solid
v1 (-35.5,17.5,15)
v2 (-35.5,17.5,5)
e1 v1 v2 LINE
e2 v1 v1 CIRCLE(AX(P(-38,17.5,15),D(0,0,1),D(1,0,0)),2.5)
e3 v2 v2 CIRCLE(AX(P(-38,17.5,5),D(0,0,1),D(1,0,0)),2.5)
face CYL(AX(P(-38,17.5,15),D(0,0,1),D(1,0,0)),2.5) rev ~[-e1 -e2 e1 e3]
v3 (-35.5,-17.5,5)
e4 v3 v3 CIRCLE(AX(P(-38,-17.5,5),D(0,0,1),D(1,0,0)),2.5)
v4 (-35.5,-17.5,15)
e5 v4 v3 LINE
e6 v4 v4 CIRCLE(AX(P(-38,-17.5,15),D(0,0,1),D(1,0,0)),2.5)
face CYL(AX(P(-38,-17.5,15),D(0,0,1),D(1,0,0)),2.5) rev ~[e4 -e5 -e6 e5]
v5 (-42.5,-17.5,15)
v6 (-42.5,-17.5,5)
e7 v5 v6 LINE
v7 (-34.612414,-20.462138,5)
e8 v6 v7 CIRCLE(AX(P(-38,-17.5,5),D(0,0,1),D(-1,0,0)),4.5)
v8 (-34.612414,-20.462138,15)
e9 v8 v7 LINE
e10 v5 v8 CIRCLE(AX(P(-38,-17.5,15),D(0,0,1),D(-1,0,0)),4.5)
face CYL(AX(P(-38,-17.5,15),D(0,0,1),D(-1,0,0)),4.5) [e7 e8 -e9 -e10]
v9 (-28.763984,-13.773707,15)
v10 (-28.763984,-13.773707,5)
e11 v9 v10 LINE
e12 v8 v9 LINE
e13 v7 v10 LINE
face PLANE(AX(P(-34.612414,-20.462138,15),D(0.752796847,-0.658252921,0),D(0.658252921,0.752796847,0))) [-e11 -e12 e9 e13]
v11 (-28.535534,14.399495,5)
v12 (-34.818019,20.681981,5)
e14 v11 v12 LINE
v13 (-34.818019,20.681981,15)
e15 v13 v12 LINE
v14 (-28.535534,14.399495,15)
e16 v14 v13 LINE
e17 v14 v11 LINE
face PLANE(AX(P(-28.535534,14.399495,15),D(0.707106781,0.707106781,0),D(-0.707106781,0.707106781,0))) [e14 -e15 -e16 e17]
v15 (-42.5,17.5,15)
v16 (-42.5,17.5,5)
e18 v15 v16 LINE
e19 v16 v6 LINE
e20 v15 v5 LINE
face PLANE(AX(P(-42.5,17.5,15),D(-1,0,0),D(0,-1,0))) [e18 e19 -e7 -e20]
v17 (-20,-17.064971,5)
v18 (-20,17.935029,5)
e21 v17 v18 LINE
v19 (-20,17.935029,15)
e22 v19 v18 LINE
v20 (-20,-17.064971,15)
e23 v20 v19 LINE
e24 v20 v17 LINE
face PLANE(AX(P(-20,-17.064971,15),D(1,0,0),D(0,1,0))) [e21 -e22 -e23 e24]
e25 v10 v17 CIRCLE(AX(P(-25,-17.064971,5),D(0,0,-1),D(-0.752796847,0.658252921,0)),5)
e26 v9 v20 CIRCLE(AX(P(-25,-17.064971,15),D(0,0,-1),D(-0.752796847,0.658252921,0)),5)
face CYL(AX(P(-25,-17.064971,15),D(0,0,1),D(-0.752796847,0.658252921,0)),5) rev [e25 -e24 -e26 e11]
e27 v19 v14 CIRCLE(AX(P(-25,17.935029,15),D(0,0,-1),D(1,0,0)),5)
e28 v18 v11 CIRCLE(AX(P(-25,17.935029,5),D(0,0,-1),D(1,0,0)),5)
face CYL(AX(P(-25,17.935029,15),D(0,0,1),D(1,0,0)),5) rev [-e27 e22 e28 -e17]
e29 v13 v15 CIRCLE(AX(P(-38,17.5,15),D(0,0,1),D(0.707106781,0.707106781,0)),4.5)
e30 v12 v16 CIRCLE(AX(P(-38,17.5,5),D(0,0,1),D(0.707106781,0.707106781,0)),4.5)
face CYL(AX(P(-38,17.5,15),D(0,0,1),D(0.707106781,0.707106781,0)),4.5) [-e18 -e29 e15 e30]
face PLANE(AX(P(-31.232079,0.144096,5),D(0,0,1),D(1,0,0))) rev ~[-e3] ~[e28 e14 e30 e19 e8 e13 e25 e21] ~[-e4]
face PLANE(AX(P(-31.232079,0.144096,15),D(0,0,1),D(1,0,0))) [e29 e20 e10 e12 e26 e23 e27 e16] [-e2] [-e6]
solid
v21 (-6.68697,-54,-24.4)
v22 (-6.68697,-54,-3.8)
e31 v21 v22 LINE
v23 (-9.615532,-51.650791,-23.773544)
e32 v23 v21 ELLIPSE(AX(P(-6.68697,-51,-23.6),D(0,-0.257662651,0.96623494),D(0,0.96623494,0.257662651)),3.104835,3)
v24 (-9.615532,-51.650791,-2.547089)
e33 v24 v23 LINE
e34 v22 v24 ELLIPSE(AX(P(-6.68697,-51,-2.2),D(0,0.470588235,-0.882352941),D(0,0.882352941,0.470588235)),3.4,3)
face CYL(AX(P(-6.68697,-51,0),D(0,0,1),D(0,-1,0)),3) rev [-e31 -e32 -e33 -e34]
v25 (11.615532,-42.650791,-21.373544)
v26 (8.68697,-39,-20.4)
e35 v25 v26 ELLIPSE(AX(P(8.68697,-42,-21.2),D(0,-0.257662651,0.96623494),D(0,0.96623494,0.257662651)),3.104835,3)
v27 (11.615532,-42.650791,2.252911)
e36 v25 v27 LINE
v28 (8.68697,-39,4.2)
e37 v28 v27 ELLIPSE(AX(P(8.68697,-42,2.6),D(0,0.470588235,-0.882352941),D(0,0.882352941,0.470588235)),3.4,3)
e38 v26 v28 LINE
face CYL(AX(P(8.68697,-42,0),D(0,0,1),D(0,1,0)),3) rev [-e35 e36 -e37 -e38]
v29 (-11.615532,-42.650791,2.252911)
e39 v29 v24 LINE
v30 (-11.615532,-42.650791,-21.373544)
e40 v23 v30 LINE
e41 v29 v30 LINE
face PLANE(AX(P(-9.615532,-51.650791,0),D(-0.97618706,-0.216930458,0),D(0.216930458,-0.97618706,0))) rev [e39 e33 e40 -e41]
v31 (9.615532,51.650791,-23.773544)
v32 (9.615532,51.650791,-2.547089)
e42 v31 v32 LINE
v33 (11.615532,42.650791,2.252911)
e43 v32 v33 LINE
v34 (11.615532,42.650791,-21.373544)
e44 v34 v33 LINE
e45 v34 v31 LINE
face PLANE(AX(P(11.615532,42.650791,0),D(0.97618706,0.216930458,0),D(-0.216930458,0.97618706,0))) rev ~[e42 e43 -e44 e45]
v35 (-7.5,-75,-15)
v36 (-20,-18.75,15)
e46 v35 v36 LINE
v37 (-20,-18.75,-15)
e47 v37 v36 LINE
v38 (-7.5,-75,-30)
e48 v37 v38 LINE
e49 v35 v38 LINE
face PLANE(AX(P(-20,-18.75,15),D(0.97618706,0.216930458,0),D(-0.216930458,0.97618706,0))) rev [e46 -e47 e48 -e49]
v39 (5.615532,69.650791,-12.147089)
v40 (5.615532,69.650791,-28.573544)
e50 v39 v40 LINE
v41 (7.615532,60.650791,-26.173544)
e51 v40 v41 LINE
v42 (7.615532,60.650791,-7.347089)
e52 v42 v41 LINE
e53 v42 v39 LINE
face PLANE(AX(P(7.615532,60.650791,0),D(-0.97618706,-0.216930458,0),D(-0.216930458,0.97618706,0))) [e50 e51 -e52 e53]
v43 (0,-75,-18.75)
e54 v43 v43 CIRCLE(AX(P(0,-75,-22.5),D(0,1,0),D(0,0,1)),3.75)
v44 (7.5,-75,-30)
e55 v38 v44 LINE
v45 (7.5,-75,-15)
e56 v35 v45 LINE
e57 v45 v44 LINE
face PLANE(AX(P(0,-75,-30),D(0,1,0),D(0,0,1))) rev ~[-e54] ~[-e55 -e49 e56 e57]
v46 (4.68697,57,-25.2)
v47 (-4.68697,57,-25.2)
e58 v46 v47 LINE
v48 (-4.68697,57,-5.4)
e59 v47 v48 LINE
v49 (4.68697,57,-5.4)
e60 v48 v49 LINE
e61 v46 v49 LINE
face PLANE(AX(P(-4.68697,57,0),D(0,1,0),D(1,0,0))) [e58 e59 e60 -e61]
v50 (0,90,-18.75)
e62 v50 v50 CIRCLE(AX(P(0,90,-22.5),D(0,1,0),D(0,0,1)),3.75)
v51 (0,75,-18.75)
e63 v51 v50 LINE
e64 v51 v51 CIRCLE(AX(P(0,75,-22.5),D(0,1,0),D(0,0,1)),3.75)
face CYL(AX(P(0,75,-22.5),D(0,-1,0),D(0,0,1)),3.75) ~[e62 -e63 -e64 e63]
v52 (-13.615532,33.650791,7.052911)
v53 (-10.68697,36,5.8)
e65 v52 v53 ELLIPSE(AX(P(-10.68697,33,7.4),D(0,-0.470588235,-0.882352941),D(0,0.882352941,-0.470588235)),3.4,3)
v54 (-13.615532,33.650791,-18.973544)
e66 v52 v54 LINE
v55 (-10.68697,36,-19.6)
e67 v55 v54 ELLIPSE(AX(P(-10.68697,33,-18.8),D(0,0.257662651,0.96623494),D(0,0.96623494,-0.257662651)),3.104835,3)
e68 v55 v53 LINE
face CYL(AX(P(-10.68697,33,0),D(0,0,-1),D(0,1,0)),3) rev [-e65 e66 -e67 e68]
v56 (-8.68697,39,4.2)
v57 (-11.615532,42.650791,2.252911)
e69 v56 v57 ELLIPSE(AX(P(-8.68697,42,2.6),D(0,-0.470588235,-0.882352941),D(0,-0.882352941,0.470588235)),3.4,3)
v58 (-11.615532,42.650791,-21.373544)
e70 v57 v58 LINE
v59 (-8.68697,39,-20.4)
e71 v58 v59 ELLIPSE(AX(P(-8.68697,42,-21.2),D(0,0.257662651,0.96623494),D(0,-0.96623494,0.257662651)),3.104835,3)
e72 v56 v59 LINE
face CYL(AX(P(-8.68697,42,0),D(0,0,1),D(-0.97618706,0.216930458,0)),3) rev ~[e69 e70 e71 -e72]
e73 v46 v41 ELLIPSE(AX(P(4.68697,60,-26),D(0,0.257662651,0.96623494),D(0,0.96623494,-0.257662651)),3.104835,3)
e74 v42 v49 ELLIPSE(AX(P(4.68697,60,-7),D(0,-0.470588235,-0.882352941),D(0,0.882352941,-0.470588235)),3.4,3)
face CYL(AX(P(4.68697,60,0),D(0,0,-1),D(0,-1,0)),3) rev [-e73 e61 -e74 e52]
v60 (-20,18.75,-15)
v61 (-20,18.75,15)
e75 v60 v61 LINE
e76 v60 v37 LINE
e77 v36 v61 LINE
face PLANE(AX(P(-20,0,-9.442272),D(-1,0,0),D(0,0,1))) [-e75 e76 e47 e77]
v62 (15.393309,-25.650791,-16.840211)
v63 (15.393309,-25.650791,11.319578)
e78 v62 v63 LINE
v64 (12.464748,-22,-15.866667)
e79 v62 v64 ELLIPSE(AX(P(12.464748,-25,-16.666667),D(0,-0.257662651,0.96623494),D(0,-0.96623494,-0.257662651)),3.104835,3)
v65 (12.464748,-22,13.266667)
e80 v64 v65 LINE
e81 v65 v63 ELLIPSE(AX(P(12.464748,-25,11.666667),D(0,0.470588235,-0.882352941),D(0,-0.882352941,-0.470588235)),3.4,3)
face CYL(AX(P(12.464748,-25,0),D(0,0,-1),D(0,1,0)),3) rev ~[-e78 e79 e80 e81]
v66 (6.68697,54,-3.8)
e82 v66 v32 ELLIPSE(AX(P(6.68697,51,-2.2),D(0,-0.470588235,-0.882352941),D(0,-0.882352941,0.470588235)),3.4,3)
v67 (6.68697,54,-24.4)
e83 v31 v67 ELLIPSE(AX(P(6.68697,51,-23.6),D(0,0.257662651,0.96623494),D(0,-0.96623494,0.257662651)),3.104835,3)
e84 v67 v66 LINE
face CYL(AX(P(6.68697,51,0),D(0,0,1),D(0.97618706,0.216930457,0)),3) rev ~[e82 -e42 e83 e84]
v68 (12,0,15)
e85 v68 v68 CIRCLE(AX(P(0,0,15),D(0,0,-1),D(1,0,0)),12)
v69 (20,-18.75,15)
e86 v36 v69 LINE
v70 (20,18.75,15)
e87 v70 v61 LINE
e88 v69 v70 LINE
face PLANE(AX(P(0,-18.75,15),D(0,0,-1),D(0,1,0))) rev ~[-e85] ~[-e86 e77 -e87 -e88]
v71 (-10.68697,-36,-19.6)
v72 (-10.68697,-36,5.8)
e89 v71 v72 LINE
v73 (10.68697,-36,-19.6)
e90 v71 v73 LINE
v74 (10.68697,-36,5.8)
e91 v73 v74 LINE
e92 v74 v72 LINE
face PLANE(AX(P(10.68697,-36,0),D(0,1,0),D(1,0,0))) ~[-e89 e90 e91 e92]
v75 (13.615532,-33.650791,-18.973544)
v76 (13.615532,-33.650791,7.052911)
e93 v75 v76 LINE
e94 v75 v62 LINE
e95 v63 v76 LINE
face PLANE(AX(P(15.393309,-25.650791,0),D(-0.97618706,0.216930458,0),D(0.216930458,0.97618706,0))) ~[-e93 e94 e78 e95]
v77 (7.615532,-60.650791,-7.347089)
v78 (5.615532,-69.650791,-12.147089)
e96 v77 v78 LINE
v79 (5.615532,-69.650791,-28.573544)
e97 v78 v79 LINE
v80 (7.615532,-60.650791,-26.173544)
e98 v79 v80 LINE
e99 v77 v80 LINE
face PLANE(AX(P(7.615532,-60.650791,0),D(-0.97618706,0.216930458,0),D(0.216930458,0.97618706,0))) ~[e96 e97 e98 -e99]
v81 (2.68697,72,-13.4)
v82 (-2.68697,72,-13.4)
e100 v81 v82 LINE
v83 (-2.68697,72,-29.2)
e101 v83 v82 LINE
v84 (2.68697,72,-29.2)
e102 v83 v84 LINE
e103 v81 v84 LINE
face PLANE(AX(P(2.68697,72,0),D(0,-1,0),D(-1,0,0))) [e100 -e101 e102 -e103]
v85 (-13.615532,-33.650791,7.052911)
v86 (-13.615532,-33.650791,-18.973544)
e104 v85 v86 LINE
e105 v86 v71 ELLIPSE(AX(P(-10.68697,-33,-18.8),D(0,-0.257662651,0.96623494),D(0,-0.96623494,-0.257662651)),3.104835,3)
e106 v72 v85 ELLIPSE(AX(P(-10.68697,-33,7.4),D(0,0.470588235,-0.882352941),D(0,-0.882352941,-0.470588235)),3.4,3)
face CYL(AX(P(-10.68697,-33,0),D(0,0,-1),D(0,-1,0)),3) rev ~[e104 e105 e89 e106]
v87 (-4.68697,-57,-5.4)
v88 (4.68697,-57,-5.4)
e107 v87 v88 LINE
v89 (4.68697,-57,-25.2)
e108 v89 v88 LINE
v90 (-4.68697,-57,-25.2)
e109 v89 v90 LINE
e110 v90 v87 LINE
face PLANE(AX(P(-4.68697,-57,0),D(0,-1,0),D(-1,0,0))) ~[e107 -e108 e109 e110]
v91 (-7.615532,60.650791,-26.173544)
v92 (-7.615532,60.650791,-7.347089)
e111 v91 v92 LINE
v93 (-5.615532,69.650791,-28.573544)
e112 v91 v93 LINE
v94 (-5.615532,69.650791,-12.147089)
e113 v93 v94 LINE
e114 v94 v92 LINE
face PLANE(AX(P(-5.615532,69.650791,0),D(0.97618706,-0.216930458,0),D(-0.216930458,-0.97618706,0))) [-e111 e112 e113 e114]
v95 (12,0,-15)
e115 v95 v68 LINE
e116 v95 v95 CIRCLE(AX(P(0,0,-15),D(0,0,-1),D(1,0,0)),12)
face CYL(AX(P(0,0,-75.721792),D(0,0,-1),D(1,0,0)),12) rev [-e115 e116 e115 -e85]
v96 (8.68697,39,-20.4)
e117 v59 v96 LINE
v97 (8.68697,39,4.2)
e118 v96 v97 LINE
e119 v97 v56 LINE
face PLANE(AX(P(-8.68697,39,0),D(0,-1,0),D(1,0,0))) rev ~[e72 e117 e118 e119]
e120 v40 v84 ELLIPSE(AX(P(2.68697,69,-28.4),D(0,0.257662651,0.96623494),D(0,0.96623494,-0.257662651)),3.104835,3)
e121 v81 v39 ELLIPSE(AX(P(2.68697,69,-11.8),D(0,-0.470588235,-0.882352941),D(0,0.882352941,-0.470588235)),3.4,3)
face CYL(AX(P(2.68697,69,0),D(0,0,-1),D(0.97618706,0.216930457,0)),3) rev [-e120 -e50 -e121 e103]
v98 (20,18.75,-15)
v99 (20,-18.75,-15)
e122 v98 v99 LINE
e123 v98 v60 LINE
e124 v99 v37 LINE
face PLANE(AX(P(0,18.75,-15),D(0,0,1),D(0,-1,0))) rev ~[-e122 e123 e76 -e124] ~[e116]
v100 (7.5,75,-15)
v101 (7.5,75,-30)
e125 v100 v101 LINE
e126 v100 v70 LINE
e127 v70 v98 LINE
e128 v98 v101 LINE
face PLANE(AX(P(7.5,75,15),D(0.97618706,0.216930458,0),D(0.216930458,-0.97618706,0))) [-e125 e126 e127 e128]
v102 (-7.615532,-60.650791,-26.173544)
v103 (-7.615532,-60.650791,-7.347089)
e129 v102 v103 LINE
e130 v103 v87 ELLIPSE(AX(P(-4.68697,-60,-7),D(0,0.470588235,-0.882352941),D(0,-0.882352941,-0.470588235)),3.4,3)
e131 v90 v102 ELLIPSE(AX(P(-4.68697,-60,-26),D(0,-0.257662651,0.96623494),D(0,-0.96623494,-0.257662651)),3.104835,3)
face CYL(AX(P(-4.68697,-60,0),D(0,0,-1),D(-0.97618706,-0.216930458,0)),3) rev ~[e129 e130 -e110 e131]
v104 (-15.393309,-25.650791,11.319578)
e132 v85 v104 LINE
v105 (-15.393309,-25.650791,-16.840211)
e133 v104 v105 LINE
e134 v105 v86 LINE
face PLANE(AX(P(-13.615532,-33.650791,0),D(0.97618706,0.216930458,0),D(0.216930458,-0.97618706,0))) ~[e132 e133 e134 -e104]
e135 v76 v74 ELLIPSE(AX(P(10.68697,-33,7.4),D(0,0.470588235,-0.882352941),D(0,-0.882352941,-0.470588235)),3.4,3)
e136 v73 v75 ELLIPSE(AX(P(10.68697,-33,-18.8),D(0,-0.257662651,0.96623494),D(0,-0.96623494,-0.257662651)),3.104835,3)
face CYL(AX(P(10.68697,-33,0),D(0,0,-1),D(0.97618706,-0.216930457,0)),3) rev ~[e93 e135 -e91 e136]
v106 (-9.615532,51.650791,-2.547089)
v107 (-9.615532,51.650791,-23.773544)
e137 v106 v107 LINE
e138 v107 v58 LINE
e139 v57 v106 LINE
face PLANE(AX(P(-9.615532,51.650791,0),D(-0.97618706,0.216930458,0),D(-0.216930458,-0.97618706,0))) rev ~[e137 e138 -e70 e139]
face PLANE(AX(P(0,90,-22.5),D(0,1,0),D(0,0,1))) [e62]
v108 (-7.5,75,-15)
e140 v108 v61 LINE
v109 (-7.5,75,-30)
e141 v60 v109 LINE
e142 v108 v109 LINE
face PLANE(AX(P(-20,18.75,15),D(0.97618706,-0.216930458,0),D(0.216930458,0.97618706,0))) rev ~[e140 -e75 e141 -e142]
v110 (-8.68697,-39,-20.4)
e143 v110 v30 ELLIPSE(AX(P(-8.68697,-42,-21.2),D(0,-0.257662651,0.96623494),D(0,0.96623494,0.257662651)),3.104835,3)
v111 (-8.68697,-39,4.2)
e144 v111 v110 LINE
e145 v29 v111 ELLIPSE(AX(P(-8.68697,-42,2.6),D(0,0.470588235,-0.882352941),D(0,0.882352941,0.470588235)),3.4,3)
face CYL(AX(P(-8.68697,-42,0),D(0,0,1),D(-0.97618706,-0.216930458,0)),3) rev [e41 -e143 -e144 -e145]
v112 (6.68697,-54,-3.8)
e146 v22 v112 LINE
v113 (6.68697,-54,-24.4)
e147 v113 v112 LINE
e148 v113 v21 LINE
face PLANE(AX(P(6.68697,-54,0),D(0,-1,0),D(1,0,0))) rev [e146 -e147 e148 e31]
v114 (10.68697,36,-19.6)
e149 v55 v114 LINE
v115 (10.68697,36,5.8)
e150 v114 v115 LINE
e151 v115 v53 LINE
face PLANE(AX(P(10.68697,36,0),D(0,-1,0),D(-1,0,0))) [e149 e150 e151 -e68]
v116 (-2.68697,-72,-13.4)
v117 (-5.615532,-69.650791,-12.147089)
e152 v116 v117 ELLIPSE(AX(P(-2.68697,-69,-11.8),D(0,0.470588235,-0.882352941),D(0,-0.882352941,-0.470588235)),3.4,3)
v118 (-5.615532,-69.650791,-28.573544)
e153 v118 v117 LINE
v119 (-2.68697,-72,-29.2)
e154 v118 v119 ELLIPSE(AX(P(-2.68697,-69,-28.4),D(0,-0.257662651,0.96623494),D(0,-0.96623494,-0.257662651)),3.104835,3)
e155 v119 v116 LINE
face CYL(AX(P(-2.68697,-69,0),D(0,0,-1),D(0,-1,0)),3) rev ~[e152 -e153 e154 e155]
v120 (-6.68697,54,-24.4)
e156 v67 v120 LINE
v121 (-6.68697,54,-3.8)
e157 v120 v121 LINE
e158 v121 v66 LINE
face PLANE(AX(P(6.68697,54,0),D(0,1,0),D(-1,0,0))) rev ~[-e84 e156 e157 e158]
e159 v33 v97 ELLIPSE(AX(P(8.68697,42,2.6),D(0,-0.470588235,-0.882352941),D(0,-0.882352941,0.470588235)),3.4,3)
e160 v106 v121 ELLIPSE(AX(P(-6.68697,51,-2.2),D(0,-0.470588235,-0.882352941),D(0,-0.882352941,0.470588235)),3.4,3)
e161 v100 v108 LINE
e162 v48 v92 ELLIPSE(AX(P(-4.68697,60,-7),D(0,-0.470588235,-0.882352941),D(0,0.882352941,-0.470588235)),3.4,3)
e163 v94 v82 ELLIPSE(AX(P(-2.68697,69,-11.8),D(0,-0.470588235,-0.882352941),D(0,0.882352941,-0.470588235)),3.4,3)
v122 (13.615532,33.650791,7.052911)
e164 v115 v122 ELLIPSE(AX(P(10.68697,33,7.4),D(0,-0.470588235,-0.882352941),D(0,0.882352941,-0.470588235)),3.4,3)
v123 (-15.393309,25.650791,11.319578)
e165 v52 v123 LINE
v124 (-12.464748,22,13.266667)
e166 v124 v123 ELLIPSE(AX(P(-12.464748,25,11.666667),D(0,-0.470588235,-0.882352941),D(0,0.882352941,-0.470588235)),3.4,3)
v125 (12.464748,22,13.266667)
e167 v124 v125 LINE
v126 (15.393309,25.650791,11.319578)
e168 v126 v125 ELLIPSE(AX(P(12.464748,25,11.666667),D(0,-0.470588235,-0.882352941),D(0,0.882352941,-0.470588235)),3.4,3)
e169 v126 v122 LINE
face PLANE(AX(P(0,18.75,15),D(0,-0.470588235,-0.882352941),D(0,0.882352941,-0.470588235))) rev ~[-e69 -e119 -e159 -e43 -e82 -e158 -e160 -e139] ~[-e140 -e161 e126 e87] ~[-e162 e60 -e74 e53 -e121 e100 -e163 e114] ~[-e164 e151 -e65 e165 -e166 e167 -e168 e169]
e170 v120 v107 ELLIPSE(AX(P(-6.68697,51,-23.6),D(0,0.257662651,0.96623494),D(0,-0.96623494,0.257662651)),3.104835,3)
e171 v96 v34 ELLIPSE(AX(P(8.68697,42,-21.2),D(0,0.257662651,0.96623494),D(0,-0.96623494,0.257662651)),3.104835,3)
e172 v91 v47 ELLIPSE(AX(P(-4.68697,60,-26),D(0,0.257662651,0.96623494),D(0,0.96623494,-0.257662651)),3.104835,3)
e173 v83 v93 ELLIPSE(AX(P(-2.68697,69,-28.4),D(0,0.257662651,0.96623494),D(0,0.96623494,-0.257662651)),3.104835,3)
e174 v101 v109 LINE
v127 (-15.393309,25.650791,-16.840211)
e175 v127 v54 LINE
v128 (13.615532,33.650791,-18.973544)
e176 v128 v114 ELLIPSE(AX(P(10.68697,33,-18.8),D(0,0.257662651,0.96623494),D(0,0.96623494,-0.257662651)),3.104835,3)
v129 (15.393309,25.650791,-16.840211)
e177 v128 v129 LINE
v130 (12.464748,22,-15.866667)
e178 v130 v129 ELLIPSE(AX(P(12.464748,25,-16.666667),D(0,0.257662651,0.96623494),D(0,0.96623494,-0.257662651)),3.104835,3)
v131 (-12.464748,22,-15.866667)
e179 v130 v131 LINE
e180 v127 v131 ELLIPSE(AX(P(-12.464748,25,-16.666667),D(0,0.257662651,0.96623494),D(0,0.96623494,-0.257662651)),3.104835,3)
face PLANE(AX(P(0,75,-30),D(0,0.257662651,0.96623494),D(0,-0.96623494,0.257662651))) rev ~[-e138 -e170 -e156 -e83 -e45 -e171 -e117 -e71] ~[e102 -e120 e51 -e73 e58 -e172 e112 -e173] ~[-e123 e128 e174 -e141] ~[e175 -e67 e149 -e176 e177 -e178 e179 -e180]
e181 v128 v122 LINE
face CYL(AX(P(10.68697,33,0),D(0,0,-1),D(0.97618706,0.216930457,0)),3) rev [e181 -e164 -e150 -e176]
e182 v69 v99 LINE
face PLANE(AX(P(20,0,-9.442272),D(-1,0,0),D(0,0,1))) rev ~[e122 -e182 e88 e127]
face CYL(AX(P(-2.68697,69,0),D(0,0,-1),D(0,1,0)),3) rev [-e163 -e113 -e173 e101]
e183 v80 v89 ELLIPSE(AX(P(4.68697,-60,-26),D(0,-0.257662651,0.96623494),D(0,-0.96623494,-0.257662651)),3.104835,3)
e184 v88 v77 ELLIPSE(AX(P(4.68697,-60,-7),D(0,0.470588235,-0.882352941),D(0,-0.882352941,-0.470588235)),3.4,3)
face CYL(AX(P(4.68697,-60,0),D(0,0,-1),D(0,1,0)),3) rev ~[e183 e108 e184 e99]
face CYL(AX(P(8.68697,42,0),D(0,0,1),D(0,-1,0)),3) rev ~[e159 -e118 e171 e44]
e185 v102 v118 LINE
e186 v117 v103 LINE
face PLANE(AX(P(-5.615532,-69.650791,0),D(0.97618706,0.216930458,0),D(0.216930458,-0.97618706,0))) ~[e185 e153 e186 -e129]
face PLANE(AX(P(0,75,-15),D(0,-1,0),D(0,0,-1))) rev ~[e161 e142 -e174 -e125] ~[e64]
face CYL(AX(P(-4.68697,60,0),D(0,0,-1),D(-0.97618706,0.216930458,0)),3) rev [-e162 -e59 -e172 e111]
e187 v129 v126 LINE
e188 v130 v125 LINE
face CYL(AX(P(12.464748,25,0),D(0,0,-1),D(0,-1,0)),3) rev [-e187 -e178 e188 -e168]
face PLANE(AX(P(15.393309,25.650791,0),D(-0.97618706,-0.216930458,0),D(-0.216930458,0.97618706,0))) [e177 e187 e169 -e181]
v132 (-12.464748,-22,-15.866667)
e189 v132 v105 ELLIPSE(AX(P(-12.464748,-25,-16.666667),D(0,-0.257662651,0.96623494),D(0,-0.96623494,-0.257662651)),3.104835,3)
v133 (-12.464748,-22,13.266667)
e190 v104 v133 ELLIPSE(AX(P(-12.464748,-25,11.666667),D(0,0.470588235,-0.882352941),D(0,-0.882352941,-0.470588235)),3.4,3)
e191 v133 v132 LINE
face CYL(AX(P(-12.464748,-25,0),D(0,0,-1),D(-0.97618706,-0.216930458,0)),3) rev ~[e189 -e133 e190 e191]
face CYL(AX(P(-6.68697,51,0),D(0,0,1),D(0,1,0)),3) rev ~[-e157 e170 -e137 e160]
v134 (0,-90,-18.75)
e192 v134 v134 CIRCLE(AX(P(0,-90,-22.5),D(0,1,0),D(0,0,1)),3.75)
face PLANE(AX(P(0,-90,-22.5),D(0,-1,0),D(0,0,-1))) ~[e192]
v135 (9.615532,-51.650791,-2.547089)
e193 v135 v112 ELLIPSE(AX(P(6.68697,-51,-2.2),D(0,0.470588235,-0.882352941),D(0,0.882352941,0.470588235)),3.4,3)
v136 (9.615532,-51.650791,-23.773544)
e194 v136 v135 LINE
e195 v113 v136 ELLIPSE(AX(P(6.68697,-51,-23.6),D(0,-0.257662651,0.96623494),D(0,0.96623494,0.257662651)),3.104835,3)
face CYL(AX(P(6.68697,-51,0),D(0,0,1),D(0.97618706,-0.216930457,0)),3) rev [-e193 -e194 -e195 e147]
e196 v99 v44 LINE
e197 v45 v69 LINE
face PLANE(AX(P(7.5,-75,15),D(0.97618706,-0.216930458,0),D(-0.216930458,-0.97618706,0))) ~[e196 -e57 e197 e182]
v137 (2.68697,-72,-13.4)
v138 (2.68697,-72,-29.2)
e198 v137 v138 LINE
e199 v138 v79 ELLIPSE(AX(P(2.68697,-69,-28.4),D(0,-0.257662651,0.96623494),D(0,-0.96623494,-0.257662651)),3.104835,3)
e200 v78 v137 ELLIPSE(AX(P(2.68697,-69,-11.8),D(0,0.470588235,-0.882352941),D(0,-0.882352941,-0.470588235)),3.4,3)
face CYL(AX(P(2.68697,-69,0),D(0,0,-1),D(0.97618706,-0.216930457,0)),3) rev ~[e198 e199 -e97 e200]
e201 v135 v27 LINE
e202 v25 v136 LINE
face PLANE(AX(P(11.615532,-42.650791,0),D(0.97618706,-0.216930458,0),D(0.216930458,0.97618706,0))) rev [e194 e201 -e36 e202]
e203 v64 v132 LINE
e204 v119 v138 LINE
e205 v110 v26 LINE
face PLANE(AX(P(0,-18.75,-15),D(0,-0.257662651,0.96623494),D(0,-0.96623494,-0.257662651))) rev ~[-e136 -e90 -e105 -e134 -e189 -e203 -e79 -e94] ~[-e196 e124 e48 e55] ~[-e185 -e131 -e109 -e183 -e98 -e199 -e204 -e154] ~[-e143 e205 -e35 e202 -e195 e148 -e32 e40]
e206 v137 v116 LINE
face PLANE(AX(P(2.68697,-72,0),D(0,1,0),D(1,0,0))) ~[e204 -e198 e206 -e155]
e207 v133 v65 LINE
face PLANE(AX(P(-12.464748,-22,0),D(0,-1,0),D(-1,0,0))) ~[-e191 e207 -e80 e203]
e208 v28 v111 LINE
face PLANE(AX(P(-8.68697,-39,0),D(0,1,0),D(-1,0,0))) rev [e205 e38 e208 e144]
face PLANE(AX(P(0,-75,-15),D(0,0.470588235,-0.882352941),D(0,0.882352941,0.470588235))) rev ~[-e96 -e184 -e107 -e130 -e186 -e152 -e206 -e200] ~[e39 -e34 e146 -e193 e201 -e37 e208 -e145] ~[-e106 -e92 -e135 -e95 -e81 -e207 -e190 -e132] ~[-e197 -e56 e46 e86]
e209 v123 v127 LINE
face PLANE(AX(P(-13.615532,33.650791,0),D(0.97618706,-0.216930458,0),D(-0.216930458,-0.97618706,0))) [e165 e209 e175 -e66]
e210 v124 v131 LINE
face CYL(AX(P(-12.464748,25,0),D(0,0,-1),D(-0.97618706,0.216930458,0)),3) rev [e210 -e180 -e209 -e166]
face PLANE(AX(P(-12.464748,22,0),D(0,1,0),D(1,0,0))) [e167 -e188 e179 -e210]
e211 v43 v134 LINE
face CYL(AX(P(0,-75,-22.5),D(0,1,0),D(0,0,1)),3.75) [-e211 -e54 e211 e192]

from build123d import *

# Parameters (mm, degrees)
BOSS_EXTRUDE1_DEPTH     = 20
CUT_EXTRUDE1_DEPTH      = 90.721792225
CUT_EXTRUDE1_DEPTH_BACK = 90.721792225
SKETCH2_R               = 12
SKETCH3_R               = 2.5
BOSS_EXTRUDE2_DEPTH     = 10
SKETCH5_R               = 3.75
BOSS_EXTRUDE3_DEPTH     = 15
CUT_EXTRUDE2_DEPTH      = 110.230261375
CUT_EXTRUDE3_DEPTH      = 104.953114431


with BuildPart() as part:
    # Sketch1 → Boss-Extrude1 (new, symmetric)
    with BuildSketch(Plane(origin=(0, 0, 0), x_dir=(0, 0, -1), z_dir=(1, 0, 0))):
        Polygon((-15, -18.75), (-15, 18.75), (15, 75), (30, 75), (15, 18.75), (15, -18.75), (30, -75), (15, -75), align=None)
    extrude(amount=BOSS_EXTRUDE1_DEPTH, both=True)

    # Sketch2 → Cut-Extrude1 (cut, two sides: drawn at the far end of the back side and taken through both)
    with BuildSketch(Plane.XY.offset(15).offset(-CUT_EXTRUDE1_DEPTH_BACK)):
        Circle(SKETCH2_R)
    extrude(amount=CUT_EXTRUDE1_DEPTH + CUT_EXTRUDE1_DEPTH_BACK, mode=Mode.SUBTRACT)

    # Sketch5 → Boss-Extrude3 (add)
    with BuildSketch(Plane(origin=(0, 75, 0), x_dir=(1, 0, 0), z_dir=(0, 1, 0))):
        with Locations(Location((0, 22.5, 0), (0, 0, 270))):
            Circle(SKETCH5_R)
    boss_extrude3 = extrude(amount=BOSS_EXTRUDE3_DEPTH)

    # Mirror1: Boss-Extrude3 across plane
    add(boss_extrude3.mirror(Plane.ZX))

    # Sketch6 → Cut-Extrude2 (cut, symmetric)
    with BuildSketch(Plane.XY.offset(15)):
        Polygon((20, 18.75), (20, 75), (7.5, 75), align=None)
        Polygon((-20, 75), (-20, 18.75), (-7.5, 75), align=None)
    cut_extrude2 = extrude(amount=CUT_EXTRUDE2_DEPTH, both=True, mode=Mode.SUBTRACT)

    # Mirror2: Cut-Extrude2 across plane
    add(cut_extrude2.mirror(Plane.ZX), mode=Mode.SUBTRACT)

    # Sketch7 → Cut-Extrude3 (cut, symmetric)
    with BuildSketch(Plane.XY):
        with BuildLine():
            Line((-12.46474814, 22), (12.46474814, 22))
            ThreePointArc((12.46474814, 22), (14.804873576, 23.122817819), (15.39330932, 25.650791373))
            Line((15.39330932, 25.650791373), (13.615531542, 33.650791373))
            ThreePointArc((13.615531542, 33.650791373), (12.564152543, 35.340125437), (10.686970362, 36))
            Line((10.686970362, 36), (-10.686970362, 36))
            ThreePointArc((-10.686970362, 36), (-12.564152543, 35.340125437), (-13.615531542, 33.650791373))
            Line((-13.615531542, 33.650791373), (-15.39330932, 25.650791373))
            ThreePointArc((-15.39330932, 25.650791373), (-14.804873576, 23.122817819), (-12.46474814, 22))
        make_face()
        with BuildLine():
            Line((2.686970362, 72), (-2.686970362, 72))
            ThreePointArc((-2.686970362, 72), (-4.564152543, 71.340125437), (-5.615531542, 69.650791373))
            Line((-5.615531542, 69.650791373), (-7.615531542, 60.650791373))
            ThreePointArc((-7.615531542, 60.650791373), (-7.027095799, 58.122817819), (-4.686970362, 57))
            Line((-4.686970362, 57), (4.686970362, 57))
            ThreePointArc((4.686970362, 57), (7.027095799, 58.122817819), (7.615531542, 60.650791373))
            Line((7.615531542, 60.650791373), (5.615531542, 69.650791373))
            ThreePointArc((5.615531542, 69.650791373), (4.564152543, 71.340125437), (2.686970362, 72))
        make_face()
        with BuildLine():
            Line((-8.686970362, 39), (8.686970362, 39))
            ThreePointArc((8.686970362, 39), (11.027095799, 40.122817819), (11.615531542, 42.650791373))
            Line((11.615531542, 42.650791373), (9.615531542, 51.650791373))
            ThreePointArc((9.615531542, 51.650791373), (8.564152543, 53.340125437), (6.686970362, 54))
            Line((6.686970362, 54), (-6.686970362, 54))
            ThreePointArc((-6.686970362, 54), (-8.564152543, 53.340125437), (-9.615531542, 51.650791373))
            Line((-9.615531542, 51.650791373), (-11.615531542, 42.650791373))
            ThreePointArc((-11.615531542, 42.650791373), (-11.027095799, 40.122817819), (-8.686970362, 39))
        make_face()
    cut_extrude3 = extrude(amount=CUT_EXTRUDE3_DEPTH, both=True, mode=Mode.SUBTRACT)

    # Mirror3: Cut-Extrude3 across plane
    add(cut_extrude3.mirror(Plane.ZX), mode=Mode.SUBTRACT)


with BuildPart() as body_2:
    # Sketch3 → Boss-Extrude2 (new body)
    with BuildSketch(Plane.XY.offset(15)):
        with BuildLine():
            ThreePointArc((-20, 17.935028843), (-23.086582838, 13.31563118), (-28.535533906, 14.399494937))
            Line((-28.535533906, 14.399494937), (-34.818019485, 20.681980515))
            ThreePointArc((-34.818019485, 20.681980515), (-39.722075446, 21.657457896), (-42.5, 17.5))
            Line((-42.5, 17.5), (-42.5, -17.5))
            ThreePointArc((-42.5, -17.5), (-39.582065715, -21.712726916), (-34.61241419, -20.462138143))
            Line((-34.61241419, -20.462138143), (-28.763984233, -13.773706554))
            ThreePointArc((-28.763984233, -13.773706554), (-23.242149205, -12.384163473), (-20, -17.064971157))
            Line((-20, -17.064971157), (-20, 17.935028843))
        make_face()
        with Locations((-38, -17.5)):
            Circle(SKETCH3_R, mode=Mode.SUBTRACT)
        with Locations((-38, 17.5)):
            Circle(SKETCH3_R, mode=Mode.SUBTRACT)
    extrude(amount=-BOSS_EXTRUDE2_DEPTH)


solid = Compound([part.part, body_2.part])
